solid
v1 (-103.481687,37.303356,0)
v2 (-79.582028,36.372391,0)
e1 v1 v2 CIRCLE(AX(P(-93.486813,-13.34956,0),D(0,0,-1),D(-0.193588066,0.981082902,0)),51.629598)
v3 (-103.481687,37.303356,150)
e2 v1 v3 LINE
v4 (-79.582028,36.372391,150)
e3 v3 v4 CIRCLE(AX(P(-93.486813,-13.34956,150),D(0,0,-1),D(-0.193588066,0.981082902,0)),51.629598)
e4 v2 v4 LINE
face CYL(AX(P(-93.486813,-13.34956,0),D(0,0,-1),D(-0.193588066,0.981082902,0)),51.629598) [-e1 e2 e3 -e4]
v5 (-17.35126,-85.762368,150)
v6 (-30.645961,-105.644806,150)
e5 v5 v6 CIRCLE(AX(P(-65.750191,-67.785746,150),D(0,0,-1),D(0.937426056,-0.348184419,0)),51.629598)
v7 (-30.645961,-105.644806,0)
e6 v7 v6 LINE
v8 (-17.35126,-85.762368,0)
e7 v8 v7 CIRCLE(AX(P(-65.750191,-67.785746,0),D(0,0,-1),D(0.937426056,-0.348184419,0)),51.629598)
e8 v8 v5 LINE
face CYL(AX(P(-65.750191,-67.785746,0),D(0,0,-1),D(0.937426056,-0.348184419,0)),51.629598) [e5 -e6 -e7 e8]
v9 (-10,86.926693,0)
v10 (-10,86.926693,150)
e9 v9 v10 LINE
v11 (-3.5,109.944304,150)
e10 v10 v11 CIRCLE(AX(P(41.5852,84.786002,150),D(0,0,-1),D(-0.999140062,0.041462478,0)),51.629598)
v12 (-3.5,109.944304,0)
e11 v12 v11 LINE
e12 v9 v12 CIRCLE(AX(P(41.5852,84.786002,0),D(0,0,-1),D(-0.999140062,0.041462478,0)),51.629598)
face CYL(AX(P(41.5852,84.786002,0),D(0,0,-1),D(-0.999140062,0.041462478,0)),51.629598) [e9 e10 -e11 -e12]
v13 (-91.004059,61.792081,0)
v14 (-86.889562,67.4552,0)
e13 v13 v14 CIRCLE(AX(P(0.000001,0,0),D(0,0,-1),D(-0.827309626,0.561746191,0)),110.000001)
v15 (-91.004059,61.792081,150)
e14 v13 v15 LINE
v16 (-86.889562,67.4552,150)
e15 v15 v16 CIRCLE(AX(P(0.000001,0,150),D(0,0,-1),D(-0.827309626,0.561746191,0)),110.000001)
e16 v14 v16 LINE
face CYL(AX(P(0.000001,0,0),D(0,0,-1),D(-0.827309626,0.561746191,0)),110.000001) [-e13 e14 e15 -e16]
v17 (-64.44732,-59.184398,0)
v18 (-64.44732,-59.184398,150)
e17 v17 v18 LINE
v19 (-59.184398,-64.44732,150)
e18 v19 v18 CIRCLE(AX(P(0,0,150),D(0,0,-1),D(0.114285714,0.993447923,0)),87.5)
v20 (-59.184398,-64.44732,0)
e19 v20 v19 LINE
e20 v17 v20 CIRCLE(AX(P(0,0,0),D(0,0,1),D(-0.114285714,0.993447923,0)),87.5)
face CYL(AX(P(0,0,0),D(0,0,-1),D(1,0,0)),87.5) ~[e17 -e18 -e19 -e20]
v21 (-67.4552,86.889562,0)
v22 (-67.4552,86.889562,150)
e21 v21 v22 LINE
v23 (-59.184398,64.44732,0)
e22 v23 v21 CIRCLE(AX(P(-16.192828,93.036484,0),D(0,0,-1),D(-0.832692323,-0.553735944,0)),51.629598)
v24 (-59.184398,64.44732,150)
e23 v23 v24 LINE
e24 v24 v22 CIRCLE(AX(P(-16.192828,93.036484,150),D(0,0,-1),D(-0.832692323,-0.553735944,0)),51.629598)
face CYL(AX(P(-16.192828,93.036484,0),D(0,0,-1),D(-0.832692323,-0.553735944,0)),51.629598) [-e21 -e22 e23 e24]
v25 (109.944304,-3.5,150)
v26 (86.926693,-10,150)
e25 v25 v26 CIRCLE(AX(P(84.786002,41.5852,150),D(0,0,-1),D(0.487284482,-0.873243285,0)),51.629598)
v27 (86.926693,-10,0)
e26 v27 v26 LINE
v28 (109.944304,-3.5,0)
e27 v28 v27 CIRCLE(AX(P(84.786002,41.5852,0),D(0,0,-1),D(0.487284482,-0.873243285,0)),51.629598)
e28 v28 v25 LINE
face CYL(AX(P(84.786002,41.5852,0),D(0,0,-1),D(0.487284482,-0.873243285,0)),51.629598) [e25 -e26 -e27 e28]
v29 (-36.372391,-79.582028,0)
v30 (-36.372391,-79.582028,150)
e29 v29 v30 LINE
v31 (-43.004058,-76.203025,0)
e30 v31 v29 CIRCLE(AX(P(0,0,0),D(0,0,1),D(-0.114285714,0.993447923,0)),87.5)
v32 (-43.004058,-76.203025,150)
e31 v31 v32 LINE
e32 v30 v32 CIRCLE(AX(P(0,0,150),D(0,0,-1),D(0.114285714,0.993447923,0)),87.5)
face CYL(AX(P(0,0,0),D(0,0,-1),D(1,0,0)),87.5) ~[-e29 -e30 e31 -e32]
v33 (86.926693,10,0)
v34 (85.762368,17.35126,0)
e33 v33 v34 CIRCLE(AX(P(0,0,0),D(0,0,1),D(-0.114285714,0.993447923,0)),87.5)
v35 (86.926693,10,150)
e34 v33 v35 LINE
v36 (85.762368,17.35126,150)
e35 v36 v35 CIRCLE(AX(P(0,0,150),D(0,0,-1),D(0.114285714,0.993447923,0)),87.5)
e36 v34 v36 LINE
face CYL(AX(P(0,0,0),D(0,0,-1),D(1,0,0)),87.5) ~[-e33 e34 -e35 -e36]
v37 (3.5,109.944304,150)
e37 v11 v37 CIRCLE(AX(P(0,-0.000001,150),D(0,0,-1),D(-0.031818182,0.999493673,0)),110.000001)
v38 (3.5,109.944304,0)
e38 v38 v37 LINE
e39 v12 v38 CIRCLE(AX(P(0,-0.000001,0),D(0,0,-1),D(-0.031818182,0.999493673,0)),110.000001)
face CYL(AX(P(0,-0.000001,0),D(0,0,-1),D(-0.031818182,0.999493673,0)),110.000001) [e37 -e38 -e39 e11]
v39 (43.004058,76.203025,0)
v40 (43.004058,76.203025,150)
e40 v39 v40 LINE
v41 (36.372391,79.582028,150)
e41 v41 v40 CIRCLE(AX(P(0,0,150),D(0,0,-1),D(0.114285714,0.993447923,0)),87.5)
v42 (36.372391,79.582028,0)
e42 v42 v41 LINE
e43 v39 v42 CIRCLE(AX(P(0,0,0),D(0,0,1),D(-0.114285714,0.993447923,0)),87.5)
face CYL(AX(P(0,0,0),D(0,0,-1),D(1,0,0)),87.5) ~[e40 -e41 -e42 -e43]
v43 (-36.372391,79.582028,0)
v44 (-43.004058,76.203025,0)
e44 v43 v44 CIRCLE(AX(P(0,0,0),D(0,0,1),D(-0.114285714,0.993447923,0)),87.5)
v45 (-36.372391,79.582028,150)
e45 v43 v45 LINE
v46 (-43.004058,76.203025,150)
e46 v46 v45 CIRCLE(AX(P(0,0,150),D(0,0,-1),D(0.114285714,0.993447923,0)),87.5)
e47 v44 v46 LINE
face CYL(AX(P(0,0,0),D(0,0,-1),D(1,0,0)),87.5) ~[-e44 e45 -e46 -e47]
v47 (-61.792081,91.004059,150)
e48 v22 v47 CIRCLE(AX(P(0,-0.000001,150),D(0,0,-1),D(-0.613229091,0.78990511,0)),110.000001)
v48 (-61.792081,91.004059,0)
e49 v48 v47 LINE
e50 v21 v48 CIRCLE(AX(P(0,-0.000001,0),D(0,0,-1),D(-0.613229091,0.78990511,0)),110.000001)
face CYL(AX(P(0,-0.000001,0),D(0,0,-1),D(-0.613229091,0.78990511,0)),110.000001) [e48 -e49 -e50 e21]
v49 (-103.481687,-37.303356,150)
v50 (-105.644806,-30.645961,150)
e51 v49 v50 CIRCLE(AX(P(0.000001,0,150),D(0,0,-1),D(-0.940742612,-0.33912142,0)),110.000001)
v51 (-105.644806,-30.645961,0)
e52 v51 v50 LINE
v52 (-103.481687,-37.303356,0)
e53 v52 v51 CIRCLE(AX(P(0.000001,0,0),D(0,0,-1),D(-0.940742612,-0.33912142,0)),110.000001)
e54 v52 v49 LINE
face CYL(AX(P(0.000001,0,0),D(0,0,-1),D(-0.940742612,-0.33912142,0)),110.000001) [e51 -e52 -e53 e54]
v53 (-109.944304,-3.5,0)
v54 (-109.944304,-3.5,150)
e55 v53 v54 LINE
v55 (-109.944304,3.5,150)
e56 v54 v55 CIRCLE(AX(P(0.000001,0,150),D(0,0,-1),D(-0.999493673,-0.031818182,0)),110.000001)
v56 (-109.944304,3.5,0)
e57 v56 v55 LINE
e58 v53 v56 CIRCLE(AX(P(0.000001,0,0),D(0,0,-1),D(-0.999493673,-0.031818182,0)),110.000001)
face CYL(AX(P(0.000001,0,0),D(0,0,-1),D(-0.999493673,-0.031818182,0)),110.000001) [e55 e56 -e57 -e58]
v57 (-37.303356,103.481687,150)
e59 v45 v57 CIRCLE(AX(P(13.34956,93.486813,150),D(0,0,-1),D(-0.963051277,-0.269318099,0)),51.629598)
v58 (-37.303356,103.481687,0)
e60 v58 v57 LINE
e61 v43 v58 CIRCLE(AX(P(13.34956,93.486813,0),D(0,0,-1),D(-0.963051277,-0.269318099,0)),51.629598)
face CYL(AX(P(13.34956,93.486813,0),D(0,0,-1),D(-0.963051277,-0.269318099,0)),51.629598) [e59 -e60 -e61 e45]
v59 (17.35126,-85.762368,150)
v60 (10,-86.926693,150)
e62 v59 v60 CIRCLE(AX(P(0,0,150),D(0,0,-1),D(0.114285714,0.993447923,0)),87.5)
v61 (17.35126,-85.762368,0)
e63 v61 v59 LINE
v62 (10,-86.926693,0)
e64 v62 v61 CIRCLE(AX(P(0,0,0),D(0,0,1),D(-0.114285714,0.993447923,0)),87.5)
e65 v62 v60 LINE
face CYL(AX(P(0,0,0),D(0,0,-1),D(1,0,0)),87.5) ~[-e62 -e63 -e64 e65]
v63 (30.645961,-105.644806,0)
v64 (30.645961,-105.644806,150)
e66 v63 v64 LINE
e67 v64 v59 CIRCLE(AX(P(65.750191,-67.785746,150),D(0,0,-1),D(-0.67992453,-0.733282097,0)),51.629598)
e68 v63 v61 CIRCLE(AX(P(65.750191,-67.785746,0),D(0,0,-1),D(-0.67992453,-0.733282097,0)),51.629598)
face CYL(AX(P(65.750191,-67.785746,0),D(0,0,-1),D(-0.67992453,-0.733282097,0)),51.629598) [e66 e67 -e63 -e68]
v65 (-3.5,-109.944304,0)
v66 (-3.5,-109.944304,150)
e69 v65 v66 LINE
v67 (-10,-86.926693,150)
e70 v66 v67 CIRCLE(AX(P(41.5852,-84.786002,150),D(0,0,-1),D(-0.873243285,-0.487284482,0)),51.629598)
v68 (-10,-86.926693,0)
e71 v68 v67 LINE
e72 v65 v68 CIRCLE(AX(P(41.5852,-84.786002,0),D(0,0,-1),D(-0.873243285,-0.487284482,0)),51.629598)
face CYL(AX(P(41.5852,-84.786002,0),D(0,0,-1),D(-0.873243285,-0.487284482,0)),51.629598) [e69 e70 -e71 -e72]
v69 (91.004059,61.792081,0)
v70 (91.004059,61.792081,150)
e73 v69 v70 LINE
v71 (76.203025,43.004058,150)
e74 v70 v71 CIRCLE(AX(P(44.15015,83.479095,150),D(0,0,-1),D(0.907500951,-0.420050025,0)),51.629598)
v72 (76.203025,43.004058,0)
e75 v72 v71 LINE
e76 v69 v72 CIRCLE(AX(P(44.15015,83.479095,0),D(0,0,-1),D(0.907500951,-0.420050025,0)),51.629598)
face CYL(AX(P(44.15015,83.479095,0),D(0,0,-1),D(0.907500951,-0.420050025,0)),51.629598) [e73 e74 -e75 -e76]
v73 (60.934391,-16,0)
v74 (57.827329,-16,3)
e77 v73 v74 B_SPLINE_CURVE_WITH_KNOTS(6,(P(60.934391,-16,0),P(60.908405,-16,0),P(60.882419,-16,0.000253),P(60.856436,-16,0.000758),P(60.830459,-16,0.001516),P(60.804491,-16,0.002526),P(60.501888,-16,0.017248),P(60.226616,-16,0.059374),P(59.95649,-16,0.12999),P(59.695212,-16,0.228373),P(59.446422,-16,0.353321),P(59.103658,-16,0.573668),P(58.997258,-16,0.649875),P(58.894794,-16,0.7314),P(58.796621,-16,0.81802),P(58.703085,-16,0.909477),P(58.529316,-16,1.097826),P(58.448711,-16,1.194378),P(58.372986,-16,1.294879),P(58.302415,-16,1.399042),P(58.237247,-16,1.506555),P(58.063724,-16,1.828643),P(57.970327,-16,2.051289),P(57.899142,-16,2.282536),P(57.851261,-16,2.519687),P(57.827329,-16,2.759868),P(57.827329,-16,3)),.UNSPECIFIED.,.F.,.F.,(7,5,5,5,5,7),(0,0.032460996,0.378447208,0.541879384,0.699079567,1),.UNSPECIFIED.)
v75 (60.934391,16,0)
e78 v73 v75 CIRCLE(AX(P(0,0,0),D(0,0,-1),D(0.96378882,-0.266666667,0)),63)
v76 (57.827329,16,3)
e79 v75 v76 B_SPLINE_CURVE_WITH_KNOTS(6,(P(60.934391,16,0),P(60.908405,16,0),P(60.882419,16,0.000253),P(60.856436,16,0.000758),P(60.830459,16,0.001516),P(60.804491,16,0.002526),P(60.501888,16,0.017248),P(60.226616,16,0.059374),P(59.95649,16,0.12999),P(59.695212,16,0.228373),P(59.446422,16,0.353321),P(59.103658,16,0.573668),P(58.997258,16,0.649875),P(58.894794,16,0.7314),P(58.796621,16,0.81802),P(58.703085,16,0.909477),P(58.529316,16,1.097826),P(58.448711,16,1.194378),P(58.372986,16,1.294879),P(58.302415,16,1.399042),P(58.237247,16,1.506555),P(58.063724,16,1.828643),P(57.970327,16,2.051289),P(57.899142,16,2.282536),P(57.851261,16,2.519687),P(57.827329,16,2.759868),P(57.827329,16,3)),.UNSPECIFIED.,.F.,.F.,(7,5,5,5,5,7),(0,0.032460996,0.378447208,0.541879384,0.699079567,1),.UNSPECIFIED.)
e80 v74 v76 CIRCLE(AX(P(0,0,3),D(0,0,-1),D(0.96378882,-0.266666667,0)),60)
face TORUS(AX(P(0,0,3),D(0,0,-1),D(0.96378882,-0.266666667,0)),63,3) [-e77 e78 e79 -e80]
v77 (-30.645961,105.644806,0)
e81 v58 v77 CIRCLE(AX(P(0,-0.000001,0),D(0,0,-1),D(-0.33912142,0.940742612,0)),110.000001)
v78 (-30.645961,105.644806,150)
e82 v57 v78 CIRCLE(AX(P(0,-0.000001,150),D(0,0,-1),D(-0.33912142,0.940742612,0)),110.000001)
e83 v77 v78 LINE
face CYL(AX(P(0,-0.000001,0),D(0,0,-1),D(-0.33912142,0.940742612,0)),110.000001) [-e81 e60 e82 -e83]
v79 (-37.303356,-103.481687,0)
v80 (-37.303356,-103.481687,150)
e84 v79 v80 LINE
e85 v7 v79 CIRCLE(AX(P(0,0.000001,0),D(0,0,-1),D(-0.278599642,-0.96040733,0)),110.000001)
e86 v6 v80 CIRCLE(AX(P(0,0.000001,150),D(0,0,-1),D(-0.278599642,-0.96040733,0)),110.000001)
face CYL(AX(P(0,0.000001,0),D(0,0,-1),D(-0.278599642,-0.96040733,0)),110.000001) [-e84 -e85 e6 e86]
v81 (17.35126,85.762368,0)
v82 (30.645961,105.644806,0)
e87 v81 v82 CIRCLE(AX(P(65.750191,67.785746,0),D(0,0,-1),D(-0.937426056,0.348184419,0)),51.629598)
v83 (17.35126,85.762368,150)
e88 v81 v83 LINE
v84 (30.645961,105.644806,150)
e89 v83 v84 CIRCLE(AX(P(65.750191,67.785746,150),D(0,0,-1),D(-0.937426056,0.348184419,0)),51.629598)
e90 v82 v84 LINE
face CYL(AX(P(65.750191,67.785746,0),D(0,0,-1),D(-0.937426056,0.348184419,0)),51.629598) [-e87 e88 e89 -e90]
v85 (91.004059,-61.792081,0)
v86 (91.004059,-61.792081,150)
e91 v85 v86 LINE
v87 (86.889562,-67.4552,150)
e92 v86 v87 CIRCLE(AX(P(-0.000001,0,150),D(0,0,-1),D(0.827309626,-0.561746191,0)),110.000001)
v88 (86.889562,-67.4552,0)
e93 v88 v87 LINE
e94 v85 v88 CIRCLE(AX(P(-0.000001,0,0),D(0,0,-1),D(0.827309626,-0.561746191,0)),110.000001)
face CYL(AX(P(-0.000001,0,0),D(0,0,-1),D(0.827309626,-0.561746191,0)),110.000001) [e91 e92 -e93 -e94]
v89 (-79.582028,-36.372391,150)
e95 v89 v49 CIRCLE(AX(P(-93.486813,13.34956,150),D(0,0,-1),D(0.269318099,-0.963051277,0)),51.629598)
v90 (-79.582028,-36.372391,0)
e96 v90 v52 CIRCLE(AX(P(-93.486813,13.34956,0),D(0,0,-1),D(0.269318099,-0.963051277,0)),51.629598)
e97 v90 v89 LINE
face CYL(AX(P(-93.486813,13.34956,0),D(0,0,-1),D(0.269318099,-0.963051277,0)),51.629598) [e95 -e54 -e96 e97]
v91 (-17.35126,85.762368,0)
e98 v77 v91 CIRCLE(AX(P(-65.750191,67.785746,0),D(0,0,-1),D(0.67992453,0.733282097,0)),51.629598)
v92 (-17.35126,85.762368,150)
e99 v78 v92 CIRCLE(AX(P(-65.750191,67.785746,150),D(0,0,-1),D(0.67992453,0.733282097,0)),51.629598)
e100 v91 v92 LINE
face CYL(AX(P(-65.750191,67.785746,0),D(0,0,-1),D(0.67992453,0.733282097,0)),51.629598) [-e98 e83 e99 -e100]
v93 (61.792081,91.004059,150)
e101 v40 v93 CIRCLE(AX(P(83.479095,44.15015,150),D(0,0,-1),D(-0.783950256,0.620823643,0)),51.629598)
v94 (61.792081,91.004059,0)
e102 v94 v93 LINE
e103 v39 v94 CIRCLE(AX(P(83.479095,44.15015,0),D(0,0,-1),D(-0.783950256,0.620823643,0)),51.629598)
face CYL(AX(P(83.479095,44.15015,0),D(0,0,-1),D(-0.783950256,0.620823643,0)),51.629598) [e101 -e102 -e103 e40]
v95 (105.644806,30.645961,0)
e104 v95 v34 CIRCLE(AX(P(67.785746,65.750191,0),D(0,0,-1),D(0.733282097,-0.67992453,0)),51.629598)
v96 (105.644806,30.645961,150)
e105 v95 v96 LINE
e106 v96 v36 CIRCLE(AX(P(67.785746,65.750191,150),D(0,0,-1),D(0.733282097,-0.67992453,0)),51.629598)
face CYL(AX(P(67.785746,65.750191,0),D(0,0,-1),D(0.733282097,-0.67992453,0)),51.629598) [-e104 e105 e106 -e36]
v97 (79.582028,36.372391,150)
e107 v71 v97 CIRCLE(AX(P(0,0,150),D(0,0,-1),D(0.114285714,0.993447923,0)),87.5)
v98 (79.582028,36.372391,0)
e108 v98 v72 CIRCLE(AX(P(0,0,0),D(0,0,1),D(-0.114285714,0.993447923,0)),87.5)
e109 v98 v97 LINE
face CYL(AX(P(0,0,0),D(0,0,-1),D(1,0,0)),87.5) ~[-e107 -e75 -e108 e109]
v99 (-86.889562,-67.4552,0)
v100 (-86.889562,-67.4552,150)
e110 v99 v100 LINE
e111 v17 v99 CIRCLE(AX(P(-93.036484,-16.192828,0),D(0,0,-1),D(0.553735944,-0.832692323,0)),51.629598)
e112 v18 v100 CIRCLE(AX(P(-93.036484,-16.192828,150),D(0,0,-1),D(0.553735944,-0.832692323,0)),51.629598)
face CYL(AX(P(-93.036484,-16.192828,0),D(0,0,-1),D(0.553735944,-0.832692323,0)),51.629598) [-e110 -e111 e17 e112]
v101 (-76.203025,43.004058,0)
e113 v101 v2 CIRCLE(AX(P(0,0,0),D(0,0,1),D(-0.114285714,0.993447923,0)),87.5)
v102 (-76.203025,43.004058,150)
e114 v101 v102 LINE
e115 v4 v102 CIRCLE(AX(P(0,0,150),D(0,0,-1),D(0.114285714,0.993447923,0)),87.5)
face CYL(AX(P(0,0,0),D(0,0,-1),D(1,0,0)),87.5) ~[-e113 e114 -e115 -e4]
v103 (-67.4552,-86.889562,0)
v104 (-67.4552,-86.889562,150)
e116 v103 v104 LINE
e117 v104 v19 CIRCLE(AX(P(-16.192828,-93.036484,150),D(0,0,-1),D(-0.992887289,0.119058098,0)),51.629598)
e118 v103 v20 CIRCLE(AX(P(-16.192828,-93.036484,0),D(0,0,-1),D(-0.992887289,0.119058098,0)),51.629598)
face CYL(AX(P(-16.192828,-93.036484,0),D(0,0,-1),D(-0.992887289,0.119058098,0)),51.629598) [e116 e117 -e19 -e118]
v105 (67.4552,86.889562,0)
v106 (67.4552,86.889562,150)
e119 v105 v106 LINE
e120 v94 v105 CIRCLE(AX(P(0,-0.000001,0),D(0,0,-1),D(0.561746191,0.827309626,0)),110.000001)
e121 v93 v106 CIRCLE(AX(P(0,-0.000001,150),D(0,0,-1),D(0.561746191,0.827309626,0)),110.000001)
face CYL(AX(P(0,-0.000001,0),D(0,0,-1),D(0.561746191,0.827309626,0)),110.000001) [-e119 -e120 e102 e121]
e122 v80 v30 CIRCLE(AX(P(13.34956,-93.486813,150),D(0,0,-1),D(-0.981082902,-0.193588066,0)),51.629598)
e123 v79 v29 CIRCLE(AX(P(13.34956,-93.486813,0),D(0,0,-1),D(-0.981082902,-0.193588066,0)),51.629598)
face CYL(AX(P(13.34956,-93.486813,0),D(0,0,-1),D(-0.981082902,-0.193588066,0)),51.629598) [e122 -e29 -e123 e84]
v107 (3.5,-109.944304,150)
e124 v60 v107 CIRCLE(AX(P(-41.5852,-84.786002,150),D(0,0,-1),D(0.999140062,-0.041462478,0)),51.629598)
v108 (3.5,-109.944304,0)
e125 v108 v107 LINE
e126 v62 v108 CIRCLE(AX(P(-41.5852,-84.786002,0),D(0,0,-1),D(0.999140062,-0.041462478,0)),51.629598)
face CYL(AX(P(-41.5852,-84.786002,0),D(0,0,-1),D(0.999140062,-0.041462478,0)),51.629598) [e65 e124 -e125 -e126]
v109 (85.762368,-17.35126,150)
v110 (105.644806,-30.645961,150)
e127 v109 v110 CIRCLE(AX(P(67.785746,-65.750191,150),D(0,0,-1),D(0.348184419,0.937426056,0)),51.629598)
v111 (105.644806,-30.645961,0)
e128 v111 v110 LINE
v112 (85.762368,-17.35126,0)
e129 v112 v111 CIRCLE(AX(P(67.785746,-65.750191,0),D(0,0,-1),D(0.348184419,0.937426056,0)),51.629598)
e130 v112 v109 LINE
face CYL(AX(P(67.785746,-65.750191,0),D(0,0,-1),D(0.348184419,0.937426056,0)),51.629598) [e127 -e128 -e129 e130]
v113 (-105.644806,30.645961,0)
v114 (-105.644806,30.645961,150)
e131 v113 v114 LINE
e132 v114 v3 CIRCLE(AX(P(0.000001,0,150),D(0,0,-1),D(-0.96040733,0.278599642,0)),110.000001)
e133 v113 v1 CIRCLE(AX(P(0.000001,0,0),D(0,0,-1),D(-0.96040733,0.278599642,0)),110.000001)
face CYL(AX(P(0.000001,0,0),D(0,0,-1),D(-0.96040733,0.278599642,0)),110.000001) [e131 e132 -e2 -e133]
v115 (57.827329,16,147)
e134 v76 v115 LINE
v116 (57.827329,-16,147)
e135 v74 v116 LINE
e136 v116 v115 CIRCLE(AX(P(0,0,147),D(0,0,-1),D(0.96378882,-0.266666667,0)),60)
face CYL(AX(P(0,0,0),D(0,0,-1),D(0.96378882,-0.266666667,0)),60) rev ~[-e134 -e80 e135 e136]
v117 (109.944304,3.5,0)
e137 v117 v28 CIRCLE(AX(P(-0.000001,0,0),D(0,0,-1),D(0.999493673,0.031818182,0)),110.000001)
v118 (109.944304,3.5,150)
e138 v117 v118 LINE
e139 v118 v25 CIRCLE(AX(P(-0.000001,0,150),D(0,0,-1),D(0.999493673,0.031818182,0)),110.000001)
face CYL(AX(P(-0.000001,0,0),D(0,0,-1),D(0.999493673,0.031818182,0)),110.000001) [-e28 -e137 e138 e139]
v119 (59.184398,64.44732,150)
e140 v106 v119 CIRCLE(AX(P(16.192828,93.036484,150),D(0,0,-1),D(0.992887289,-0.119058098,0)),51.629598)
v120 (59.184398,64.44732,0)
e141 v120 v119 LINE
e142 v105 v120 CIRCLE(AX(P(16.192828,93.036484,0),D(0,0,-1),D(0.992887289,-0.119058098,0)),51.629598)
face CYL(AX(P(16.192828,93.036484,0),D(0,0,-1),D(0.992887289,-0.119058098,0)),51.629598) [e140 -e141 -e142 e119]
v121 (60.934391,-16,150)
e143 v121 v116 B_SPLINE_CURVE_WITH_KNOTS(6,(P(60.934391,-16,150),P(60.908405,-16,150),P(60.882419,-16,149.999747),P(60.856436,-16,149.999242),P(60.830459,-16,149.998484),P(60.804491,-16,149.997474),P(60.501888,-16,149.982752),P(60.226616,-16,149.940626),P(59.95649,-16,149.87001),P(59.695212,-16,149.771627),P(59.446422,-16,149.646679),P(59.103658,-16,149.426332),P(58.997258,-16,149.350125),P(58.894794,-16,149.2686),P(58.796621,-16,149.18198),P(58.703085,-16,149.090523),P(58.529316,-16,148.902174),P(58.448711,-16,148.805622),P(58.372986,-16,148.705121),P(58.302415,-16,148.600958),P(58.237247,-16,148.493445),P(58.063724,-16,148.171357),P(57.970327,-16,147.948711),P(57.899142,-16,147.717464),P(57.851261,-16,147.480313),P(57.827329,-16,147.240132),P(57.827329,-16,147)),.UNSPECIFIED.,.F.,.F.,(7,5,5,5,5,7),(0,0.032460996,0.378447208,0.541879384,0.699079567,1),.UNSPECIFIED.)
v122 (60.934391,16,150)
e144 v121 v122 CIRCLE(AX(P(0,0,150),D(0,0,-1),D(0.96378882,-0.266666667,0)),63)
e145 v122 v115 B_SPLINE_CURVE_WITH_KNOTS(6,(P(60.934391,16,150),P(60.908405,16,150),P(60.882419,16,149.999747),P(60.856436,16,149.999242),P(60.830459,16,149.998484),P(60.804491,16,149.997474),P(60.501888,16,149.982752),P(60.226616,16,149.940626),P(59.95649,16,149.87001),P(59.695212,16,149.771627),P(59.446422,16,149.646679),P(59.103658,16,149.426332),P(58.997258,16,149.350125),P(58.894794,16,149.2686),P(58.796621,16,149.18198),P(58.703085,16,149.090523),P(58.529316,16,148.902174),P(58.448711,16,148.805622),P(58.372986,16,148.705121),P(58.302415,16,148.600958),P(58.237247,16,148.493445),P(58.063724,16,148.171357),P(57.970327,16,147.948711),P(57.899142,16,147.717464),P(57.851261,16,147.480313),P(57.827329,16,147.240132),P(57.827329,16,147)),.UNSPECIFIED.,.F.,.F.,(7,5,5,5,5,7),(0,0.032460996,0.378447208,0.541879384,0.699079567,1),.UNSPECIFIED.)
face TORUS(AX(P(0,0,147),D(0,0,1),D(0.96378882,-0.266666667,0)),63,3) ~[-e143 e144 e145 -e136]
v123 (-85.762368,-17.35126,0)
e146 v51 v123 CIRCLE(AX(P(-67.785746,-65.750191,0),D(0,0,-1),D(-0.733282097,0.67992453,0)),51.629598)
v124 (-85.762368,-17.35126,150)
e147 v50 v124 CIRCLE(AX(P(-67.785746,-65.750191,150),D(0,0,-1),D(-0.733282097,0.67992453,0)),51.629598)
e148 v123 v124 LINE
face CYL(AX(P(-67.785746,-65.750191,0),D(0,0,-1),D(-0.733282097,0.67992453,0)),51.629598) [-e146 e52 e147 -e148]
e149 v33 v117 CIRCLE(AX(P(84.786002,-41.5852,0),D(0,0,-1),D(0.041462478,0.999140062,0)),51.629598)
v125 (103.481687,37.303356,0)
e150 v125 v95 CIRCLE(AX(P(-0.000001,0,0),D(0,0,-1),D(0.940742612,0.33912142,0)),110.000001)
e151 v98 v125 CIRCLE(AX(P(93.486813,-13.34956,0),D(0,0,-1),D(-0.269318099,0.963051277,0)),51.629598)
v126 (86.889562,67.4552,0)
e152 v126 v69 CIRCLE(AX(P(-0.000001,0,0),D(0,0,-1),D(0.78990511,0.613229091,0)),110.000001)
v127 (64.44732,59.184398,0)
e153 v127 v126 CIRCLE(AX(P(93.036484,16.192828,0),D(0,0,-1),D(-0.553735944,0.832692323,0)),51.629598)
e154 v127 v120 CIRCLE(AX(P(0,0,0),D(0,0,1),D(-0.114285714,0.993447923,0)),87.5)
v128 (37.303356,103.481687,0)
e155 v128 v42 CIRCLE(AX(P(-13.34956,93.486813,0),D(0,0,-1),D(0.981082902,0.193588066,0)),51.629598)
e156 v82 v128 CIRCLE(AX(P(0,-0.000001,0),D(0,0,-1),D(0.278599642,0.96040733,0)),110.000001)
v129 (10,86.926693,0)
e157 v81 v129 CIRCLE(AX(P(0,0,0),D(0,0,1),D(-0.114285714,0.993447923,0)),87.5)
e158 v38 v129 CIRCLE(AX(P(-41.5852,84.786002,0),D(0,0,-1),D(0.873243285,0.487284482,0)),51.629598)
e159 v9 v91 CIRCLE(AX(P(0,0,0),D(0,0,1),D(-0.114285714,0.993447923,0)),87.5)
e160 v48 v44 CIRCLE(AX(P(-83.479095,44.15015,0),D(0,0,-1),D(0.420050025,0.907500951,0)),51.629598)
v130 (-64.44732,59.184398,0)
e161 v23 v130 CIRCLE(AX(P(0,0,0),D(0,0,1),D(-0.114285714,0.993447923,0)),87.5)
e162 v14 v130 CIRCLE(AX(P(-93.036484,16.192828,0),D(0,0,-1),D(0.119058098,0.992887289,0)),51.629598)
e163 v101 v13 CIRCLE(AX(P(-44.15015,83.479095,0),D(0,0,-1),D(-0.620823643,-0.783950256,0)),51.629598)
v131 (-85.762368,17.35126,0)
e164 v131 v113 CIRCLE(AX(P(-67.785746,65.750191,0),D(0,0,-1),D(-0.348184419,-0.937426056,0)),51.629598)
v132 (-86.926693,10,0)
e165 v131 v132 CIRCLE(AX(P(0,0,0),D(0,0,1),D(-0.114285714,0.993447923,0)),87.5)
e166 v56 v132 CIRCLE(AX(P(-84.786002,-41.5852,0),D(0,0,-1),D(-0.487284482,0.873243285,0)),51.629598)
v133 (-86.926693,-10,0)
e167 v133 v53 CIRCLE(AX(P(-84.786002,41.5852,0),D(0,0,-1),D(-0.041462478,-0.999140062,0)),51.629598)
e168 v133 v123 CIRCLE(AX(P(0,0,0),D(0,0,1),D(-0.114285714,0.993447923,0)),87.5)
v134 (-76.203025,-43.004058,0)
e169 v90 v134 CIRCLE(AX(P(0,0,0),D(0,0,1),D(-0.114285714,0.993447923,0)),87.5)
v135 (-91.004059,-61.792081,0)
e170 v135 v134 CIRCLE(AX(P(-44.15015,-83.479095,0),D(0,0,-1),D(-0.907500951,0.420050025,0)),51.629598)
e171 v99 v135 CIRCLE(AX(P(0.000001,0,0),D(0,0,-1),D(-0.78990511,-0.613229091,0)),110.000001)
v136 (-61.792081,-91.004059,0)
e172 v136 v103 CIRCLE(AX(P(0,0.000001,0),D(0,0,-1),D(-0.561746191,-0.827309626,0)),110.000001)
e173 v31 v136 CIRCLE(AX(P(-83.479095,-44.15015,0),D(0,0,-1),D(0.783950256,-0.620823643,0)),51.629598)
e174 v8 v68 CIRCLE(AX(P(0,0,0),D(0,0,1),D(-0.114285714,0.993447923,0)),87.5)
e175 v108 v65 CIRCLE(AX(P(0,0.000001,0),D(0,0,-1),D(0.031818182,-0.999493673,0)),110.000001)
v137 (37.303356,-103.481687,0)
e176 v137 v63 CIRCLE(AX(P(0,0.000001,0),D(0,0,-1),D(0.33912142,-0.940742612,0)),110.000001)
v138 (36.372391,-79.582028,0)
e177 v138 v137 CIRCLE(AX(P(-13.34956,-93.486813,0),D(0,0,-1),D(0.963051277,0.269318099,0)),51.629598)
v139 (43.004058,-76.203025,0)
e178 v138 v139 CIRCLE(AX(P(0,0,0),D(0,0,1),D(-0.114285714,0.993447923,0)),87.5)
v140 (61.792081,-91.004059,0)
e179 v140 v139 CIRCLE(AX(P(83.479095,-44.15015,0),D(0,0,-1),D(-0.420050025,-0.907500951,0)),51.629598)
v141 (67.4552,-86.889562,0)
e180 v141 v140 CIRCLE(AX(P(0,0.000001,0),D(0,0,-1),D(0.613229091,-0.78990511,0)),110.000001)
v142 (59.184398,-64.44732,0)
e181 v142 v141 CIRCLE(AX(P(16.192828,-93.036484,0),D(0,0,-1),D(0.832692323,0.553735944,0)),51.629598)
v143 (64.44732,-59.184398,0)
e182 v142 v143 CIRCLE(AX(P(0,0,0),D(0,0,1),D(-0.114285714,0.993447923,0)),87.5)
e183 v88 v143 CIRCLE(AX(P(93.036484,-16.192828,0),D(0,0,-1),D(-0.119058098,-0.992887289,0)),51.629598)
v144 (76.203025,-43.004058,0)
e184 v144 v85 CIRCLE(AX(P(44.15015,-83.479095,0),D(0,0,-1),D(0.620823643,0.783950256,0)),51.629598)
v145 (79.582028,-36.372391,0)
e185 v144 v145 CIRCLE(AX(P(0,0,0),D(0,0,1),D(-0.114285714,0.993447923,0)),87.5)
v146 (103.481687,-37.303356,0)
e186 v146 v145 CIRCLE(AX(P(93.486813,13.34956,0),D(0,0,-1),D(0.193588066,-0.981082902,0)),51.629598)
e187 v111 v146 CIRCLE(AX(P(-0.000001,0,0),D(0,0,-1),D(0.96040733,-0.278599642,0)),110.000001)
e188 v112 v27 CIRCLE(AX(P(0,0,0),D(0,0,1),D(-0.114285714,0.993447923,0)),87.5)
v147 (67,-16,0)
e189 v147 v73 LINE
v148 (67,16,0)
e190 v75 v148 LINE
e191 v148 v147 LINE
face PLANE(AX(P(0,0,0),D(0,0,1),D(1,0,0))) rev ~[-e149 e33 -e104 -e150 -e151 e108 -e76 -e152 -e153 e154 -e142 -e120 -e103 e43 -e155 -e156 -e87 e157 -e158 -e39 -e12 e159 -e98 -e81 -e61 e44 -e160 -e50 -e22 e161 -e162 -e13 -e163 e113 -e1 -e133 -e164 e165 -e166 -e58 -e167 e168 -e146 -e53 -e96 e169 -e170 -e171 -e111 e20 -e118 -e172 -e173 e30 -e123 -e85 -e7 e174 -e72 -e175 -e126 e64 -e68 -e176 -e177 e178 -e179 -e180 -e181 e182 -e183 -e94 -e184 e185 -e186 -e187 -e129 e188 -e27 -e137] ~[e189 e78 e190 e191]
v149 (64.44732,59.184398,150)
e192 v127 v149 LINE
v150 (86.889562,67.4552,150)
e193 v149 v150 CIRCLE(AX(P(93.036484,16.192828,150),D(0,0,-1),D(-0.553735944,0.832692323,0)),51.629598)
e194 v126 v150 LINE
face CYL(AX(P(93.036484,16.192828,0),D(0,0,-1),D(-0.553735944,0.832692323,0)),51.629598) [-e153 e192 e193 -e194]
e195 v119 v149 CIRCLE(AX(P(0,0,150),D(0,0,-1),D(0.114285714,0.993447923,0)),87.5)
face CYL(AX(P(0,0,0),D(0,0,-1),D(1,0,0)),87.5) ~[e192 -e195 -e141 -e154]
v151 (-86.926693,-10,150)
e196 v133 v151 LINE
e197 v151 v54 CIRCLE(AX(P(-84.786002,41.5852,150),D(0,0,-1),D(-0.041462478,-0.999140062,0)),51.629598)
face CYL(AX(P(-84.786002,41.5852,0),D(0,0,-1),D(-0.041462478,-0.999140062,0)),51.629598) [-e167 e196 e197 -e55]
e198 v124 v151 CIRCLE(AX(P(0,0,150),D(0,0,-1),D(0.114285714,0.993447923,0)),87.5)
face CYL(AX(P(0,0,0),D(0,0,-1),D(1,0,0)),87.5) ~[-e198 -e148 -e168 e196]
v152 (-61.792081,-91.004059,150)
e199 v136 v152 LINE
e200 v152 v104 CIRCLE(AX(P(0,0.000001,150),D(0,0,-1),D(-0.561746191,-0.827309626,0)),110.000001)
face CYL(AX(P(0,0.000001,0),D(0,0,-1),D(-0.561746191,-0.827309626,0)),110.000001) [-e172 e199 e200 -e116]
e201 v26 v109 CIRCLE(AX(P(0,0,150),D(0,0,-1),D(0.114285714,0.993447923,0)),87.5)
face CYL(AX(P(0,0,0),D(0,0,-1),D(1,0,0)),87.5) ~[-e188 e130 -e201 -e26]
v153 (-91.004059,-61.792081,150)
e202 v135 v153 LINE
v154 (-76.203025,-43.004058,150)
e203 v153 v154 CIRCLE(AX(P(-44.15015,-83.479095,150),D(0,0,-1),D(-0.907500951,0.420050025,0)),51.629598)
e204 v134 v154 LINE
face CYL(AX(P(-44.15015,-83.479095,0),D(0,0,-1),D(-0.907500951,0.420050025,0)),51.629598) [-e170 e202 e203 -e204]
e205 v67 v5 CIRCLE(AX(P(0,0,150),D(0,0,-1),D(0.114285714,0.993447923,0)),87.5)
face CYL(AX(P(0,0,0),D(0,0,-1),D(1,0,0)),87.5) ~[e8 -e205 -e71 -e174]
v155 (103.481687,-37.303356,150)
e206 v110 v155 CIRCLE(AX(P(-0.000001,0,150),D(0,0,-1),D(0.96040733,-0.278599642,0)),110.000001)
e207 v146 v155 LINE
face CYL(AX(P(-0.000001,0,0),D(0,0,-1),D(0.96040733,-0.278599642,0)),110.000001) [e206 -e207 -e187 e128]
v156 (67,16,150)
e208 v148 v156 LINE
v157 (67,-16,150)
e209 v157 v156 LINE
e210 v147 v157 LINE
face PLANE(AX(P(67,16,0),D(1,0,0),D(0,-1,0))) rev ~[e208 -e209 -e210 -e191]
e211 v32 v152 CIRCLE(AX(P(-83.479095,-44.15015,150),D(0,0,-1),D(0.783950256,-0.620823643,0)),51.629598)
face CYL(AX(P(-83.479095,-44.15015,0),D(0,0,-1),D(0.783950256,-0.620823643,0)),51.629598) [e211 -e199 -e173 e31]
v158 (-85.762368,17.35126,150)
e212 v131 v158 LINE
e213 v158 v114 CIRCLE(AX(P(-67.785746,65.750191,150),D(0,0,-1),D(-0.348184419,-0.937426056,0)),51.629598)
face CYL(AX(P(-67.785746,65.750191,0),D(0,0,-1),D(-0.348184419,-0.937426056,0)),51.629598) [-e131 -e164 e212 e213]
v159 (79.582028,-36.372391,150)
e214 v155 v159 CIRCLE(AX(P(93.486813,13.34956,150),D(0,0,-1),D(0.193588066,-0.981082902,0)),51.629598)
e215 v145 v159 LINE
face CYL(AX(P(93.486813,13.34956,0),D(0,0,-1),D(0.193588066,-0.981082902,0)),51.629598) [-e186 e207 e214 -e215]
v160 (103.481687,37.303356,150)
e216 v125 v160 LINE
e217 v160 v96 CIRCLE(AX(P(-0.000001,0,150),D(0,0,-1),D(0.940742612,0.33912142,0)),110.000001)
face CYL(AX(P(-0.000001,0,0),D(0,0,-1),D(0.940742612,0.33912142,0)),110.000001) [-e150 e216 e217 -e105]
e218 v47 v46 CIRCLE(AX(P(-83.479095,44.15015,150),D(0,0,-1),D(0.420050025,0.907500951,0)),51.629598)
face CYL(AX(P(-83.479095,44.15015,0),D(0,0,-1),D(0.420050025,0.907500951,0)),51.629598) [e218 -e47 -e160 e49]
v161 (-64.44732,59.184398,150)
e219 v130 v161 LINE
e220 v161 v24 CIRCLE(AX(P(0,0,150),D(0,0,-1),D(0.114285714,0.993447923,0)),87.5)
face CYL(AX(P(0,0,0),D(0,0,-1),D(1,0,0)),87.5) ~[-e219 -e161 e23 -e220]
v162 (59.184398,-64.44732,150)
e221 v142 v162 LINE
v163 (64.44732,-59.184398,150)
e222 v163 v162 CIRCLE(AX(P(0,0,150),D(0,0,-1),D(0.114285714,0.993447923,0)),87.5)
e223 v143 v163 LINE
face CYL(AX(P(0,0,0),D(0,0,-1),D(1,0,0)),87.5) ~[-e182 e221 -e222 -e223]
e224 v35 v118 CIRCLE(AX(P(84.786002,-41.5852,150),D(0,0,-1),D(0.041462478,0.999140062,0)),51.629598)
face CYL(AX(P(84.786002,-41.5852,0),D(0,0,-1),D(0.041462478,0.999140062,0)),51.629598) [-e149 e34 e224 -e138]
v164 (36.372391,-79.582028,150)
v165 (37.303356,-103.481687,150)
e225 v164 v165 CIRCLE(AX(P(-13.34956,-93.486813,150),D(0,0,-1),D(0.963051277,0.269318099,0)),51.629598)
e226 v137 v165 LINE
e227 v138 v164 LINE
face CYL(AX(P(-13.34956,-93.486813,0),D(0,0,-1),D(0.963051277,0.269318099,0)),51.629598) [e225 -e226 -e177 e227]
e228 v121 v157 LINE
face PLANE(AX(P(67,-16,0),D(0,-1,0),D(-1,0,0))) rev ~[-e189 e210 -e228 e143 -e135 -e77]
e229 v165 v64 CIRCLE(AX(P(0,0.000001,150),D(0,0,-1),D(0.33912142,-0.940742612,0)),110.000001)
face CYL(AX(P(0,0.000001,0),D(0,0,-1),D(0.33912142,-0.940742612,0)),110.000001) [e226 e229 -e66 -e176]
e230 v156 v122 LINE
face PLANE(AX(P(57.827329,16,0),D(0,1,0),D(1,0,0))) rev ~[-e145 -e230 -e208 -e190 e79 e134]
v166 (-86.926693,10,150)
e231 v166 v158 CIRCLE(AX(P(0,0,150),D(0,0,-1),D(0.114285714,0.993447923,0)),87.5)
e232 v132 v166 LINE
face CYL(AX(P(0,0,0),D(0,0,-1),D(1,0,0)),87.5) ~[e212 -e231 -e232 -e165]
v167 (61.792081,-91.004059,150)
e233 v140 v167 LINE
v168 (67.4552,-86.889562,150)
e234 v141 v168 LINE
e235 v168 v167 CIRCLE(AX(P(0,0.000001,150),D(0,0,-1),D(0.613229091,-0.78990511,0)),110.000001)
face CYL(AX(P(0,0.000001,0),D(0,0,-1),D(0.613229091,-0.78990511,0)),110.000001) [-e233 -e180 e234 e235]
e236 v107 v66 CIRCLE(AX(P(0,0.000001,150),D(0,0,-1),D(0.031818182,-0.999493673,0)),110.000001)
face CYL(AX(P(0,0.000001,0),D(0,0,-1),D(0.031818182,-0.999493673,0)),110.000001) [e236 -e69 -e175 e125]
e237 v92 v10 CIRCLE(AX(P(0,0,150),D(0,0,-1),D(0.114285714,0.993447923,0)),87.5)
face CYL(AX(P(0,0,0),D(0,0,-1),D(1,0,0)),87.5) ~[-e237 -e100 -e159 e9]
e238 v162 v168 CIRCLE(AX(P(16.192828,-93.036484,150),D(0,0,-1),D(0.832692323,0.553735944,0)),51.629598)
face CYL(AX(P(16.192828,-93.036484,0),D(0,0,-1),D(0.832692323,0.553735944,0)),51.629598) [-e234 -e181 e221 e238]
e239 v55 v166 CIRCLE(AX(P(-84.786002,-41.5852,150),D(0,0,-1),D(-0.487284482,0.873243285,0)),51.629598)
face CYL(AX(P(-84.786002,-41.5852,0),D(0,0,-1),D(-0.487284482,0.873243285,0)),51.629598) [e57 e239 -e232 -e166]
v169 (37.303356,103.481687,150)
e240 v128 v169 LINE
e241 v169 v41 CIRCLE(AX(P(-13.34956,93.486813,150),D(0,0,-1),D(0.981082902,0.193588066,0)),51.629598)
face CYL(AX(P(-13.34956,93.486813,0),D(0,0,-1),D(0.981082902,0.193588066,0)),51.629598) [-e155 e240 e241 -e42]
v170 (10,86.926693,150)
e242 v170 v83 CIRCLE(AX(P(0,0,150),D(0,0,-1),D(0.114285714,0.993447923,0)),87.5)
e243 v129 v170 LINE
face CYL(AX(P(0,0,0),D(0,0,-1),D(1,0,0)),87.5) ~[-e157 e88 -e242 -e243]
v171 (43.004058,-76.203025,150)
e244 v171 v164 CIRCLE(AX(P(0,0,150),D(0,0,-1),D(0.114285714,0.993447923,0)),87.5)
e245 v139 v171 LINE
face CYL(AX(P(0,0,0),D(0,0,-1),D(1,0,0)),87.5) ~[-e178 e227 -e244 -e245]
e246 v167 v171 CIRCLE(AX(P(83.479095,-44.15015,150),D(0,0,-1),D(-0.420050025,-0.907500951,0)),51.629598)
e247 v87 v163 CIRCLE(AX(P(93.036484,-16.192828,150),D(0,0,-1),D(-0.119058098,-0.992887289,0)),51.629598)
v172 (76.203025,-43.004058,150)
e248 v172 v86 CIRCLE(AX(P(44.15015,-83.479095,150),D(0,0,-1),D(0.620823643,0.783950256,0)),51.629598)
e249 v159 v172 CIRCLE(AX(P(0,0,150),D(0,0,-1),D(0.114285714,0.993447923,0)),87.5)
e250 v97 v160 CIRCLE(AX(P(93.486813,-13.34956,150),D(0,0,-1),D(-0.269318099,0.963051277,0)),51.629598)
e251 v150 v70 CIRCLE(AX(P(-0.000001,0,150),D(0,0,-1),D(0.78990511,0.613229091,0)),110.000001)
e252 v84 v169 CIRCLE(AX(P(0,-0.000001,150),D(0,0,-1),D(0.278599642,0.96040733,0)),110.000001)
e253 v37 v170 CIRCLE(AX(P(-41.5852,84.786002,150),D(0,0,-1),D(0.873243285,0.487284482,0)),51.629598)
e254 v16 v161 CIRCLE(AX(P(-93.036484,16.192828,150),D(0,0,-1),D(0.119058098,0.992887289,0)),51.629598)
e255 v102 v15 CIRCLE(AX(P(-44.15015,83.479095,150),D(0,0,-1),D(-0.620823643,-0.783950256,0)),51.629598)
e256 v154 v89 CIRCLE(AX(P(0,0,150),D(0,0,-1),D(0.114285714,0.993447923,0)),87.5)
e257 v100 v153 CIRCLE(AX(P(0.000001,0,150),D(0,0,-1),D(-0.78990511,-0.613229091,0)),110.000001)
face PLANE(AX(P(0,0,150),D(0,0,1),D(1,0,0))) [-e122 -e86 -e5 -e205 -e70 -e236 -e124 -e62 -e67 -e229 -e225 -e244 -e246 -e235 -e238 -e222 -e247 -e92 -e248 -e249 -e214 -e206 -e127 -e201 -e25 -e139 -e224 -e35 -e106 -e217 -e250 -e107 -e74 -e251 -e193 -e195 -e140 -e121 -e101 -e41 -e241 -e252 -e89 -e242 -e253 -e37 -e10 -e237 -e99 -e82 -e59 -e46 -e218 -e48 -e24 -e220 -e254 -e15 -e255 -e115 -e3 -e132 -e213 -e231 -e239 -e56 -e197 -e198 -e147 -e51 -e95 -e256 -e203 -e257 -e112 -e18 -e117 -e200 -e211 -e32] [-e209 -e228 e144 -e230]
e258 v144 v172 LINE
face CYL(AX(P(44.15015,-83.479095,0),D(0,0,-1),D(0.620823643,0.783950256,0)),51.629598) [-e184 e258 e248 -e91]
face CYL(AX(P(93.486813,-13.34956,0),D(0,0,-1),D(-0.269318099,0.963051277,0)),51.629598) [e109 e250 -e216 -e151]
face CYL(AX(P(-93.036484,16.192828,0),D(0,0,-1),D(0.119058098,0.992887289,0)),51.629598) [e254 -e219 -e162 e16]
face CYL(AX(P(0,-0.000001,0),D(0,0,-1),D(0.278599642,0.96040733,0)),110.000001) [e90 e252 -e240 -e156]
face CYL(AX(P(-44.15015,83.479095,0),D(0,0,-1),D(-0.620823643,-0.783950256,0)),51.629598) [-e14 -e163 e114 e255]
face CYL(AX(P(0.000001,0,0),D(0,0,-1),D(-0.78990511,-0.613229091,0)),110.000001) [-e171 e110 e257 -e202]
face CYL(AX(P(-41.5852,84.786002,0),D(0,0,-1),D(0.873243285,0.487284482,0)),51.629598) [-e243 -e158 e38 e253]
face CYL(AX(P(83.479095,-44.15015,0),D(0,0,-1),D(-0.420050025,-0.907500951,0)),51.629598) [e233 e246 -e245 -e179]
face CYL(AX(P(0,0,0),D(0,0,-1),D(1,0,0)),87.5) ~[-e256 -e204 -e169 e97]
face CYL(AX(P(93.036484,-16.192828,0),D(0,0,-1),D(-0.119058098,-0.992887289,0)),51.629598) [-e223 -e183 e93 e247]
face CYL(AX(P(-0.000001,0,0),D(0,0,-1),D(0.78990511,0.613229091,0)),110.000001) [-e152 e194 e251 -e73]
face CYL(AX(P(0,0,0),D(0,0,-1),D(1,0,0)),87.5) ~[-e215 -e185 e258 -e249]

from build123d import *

# Parameters (mm, degrees)
SKETCH_1_R               = 87.5
EXTRUDE_1_DEPTH          = 150
EXTRUDE_2_DEPTH          = 150
PATTERN_CIRCULAR_1_COUNT = 20
CUT_EXTRUDE_1_DEPTH      = 217.10182785
FILLET_1_R               = 3


with BuildPart() as part:
    # 草图1 → 拉伸1 (new body)
    with BuildSketch(Plane.XY):
        Circle(SKETCH_1_R)
    extrude(amount=EXTRUDE_1_DEPTH)

    # 草图2 → 拉伸2 (add)
    with BuildSketch(Plane.XY):
        with BuildLine():
            ThreePointArc((10, 86.926693254), (0, 87.5), (-10, 86.926693254))
            ThreePointArc((-10, 86.926693254), (-8.101258535, 98.817083904), (-3.5, 109.944304082))
            ThreePointArc((-3.5, 109.944304082), (0, 110), (3.5, 109.944304082))
            ThreePointArc((3.5, 109.944304082), (8.101258535, 98.817083904), (10, 86.926693254))
        make_face()
    extrude_2 = extrude(amount=EXTRUDE_2_DEPTH)

    # 阵列(圆周)1: 拉伸2 ×20 about axis
    pattern_circular_1_axis = Axis((0, 0, 0), (0, 0, 1))
    for i in range(1, PATTERN_CIRCULAR_1_COUNT):
        add(extrude_2.rotate(pattern_circular_1_axis, i * 360 / PATTERN_CIRCULAR_1_COUNT))

    # 草图3 → 切除-拉伸1 (cut, through all)
    with BuildSketch(Plane.XY):
        with BuildLine():
            Line((57.827329179, 16), (67, 16))
            Line((67, 16), (67, -16))
            Line((67, -16), (57.827329179, -16))
            ThreePointArc((57.827329179, -16), (-60, 0), (57.827329179, 16))
        make_face()
    extrude(amount=CUT_EXTRUDE_1_DEPTH, mode=Mode.SUBTRACT)

    # 圆角1
    fillet_1_edges = [part.edges().sort_by_distance(p)[0] for p in [
        (-60, 0, 0),
        (-60, 0, 150),
    ]]
    fillet(fillet_1_edges, radius=FILLET_1_R)


solid = part.part
